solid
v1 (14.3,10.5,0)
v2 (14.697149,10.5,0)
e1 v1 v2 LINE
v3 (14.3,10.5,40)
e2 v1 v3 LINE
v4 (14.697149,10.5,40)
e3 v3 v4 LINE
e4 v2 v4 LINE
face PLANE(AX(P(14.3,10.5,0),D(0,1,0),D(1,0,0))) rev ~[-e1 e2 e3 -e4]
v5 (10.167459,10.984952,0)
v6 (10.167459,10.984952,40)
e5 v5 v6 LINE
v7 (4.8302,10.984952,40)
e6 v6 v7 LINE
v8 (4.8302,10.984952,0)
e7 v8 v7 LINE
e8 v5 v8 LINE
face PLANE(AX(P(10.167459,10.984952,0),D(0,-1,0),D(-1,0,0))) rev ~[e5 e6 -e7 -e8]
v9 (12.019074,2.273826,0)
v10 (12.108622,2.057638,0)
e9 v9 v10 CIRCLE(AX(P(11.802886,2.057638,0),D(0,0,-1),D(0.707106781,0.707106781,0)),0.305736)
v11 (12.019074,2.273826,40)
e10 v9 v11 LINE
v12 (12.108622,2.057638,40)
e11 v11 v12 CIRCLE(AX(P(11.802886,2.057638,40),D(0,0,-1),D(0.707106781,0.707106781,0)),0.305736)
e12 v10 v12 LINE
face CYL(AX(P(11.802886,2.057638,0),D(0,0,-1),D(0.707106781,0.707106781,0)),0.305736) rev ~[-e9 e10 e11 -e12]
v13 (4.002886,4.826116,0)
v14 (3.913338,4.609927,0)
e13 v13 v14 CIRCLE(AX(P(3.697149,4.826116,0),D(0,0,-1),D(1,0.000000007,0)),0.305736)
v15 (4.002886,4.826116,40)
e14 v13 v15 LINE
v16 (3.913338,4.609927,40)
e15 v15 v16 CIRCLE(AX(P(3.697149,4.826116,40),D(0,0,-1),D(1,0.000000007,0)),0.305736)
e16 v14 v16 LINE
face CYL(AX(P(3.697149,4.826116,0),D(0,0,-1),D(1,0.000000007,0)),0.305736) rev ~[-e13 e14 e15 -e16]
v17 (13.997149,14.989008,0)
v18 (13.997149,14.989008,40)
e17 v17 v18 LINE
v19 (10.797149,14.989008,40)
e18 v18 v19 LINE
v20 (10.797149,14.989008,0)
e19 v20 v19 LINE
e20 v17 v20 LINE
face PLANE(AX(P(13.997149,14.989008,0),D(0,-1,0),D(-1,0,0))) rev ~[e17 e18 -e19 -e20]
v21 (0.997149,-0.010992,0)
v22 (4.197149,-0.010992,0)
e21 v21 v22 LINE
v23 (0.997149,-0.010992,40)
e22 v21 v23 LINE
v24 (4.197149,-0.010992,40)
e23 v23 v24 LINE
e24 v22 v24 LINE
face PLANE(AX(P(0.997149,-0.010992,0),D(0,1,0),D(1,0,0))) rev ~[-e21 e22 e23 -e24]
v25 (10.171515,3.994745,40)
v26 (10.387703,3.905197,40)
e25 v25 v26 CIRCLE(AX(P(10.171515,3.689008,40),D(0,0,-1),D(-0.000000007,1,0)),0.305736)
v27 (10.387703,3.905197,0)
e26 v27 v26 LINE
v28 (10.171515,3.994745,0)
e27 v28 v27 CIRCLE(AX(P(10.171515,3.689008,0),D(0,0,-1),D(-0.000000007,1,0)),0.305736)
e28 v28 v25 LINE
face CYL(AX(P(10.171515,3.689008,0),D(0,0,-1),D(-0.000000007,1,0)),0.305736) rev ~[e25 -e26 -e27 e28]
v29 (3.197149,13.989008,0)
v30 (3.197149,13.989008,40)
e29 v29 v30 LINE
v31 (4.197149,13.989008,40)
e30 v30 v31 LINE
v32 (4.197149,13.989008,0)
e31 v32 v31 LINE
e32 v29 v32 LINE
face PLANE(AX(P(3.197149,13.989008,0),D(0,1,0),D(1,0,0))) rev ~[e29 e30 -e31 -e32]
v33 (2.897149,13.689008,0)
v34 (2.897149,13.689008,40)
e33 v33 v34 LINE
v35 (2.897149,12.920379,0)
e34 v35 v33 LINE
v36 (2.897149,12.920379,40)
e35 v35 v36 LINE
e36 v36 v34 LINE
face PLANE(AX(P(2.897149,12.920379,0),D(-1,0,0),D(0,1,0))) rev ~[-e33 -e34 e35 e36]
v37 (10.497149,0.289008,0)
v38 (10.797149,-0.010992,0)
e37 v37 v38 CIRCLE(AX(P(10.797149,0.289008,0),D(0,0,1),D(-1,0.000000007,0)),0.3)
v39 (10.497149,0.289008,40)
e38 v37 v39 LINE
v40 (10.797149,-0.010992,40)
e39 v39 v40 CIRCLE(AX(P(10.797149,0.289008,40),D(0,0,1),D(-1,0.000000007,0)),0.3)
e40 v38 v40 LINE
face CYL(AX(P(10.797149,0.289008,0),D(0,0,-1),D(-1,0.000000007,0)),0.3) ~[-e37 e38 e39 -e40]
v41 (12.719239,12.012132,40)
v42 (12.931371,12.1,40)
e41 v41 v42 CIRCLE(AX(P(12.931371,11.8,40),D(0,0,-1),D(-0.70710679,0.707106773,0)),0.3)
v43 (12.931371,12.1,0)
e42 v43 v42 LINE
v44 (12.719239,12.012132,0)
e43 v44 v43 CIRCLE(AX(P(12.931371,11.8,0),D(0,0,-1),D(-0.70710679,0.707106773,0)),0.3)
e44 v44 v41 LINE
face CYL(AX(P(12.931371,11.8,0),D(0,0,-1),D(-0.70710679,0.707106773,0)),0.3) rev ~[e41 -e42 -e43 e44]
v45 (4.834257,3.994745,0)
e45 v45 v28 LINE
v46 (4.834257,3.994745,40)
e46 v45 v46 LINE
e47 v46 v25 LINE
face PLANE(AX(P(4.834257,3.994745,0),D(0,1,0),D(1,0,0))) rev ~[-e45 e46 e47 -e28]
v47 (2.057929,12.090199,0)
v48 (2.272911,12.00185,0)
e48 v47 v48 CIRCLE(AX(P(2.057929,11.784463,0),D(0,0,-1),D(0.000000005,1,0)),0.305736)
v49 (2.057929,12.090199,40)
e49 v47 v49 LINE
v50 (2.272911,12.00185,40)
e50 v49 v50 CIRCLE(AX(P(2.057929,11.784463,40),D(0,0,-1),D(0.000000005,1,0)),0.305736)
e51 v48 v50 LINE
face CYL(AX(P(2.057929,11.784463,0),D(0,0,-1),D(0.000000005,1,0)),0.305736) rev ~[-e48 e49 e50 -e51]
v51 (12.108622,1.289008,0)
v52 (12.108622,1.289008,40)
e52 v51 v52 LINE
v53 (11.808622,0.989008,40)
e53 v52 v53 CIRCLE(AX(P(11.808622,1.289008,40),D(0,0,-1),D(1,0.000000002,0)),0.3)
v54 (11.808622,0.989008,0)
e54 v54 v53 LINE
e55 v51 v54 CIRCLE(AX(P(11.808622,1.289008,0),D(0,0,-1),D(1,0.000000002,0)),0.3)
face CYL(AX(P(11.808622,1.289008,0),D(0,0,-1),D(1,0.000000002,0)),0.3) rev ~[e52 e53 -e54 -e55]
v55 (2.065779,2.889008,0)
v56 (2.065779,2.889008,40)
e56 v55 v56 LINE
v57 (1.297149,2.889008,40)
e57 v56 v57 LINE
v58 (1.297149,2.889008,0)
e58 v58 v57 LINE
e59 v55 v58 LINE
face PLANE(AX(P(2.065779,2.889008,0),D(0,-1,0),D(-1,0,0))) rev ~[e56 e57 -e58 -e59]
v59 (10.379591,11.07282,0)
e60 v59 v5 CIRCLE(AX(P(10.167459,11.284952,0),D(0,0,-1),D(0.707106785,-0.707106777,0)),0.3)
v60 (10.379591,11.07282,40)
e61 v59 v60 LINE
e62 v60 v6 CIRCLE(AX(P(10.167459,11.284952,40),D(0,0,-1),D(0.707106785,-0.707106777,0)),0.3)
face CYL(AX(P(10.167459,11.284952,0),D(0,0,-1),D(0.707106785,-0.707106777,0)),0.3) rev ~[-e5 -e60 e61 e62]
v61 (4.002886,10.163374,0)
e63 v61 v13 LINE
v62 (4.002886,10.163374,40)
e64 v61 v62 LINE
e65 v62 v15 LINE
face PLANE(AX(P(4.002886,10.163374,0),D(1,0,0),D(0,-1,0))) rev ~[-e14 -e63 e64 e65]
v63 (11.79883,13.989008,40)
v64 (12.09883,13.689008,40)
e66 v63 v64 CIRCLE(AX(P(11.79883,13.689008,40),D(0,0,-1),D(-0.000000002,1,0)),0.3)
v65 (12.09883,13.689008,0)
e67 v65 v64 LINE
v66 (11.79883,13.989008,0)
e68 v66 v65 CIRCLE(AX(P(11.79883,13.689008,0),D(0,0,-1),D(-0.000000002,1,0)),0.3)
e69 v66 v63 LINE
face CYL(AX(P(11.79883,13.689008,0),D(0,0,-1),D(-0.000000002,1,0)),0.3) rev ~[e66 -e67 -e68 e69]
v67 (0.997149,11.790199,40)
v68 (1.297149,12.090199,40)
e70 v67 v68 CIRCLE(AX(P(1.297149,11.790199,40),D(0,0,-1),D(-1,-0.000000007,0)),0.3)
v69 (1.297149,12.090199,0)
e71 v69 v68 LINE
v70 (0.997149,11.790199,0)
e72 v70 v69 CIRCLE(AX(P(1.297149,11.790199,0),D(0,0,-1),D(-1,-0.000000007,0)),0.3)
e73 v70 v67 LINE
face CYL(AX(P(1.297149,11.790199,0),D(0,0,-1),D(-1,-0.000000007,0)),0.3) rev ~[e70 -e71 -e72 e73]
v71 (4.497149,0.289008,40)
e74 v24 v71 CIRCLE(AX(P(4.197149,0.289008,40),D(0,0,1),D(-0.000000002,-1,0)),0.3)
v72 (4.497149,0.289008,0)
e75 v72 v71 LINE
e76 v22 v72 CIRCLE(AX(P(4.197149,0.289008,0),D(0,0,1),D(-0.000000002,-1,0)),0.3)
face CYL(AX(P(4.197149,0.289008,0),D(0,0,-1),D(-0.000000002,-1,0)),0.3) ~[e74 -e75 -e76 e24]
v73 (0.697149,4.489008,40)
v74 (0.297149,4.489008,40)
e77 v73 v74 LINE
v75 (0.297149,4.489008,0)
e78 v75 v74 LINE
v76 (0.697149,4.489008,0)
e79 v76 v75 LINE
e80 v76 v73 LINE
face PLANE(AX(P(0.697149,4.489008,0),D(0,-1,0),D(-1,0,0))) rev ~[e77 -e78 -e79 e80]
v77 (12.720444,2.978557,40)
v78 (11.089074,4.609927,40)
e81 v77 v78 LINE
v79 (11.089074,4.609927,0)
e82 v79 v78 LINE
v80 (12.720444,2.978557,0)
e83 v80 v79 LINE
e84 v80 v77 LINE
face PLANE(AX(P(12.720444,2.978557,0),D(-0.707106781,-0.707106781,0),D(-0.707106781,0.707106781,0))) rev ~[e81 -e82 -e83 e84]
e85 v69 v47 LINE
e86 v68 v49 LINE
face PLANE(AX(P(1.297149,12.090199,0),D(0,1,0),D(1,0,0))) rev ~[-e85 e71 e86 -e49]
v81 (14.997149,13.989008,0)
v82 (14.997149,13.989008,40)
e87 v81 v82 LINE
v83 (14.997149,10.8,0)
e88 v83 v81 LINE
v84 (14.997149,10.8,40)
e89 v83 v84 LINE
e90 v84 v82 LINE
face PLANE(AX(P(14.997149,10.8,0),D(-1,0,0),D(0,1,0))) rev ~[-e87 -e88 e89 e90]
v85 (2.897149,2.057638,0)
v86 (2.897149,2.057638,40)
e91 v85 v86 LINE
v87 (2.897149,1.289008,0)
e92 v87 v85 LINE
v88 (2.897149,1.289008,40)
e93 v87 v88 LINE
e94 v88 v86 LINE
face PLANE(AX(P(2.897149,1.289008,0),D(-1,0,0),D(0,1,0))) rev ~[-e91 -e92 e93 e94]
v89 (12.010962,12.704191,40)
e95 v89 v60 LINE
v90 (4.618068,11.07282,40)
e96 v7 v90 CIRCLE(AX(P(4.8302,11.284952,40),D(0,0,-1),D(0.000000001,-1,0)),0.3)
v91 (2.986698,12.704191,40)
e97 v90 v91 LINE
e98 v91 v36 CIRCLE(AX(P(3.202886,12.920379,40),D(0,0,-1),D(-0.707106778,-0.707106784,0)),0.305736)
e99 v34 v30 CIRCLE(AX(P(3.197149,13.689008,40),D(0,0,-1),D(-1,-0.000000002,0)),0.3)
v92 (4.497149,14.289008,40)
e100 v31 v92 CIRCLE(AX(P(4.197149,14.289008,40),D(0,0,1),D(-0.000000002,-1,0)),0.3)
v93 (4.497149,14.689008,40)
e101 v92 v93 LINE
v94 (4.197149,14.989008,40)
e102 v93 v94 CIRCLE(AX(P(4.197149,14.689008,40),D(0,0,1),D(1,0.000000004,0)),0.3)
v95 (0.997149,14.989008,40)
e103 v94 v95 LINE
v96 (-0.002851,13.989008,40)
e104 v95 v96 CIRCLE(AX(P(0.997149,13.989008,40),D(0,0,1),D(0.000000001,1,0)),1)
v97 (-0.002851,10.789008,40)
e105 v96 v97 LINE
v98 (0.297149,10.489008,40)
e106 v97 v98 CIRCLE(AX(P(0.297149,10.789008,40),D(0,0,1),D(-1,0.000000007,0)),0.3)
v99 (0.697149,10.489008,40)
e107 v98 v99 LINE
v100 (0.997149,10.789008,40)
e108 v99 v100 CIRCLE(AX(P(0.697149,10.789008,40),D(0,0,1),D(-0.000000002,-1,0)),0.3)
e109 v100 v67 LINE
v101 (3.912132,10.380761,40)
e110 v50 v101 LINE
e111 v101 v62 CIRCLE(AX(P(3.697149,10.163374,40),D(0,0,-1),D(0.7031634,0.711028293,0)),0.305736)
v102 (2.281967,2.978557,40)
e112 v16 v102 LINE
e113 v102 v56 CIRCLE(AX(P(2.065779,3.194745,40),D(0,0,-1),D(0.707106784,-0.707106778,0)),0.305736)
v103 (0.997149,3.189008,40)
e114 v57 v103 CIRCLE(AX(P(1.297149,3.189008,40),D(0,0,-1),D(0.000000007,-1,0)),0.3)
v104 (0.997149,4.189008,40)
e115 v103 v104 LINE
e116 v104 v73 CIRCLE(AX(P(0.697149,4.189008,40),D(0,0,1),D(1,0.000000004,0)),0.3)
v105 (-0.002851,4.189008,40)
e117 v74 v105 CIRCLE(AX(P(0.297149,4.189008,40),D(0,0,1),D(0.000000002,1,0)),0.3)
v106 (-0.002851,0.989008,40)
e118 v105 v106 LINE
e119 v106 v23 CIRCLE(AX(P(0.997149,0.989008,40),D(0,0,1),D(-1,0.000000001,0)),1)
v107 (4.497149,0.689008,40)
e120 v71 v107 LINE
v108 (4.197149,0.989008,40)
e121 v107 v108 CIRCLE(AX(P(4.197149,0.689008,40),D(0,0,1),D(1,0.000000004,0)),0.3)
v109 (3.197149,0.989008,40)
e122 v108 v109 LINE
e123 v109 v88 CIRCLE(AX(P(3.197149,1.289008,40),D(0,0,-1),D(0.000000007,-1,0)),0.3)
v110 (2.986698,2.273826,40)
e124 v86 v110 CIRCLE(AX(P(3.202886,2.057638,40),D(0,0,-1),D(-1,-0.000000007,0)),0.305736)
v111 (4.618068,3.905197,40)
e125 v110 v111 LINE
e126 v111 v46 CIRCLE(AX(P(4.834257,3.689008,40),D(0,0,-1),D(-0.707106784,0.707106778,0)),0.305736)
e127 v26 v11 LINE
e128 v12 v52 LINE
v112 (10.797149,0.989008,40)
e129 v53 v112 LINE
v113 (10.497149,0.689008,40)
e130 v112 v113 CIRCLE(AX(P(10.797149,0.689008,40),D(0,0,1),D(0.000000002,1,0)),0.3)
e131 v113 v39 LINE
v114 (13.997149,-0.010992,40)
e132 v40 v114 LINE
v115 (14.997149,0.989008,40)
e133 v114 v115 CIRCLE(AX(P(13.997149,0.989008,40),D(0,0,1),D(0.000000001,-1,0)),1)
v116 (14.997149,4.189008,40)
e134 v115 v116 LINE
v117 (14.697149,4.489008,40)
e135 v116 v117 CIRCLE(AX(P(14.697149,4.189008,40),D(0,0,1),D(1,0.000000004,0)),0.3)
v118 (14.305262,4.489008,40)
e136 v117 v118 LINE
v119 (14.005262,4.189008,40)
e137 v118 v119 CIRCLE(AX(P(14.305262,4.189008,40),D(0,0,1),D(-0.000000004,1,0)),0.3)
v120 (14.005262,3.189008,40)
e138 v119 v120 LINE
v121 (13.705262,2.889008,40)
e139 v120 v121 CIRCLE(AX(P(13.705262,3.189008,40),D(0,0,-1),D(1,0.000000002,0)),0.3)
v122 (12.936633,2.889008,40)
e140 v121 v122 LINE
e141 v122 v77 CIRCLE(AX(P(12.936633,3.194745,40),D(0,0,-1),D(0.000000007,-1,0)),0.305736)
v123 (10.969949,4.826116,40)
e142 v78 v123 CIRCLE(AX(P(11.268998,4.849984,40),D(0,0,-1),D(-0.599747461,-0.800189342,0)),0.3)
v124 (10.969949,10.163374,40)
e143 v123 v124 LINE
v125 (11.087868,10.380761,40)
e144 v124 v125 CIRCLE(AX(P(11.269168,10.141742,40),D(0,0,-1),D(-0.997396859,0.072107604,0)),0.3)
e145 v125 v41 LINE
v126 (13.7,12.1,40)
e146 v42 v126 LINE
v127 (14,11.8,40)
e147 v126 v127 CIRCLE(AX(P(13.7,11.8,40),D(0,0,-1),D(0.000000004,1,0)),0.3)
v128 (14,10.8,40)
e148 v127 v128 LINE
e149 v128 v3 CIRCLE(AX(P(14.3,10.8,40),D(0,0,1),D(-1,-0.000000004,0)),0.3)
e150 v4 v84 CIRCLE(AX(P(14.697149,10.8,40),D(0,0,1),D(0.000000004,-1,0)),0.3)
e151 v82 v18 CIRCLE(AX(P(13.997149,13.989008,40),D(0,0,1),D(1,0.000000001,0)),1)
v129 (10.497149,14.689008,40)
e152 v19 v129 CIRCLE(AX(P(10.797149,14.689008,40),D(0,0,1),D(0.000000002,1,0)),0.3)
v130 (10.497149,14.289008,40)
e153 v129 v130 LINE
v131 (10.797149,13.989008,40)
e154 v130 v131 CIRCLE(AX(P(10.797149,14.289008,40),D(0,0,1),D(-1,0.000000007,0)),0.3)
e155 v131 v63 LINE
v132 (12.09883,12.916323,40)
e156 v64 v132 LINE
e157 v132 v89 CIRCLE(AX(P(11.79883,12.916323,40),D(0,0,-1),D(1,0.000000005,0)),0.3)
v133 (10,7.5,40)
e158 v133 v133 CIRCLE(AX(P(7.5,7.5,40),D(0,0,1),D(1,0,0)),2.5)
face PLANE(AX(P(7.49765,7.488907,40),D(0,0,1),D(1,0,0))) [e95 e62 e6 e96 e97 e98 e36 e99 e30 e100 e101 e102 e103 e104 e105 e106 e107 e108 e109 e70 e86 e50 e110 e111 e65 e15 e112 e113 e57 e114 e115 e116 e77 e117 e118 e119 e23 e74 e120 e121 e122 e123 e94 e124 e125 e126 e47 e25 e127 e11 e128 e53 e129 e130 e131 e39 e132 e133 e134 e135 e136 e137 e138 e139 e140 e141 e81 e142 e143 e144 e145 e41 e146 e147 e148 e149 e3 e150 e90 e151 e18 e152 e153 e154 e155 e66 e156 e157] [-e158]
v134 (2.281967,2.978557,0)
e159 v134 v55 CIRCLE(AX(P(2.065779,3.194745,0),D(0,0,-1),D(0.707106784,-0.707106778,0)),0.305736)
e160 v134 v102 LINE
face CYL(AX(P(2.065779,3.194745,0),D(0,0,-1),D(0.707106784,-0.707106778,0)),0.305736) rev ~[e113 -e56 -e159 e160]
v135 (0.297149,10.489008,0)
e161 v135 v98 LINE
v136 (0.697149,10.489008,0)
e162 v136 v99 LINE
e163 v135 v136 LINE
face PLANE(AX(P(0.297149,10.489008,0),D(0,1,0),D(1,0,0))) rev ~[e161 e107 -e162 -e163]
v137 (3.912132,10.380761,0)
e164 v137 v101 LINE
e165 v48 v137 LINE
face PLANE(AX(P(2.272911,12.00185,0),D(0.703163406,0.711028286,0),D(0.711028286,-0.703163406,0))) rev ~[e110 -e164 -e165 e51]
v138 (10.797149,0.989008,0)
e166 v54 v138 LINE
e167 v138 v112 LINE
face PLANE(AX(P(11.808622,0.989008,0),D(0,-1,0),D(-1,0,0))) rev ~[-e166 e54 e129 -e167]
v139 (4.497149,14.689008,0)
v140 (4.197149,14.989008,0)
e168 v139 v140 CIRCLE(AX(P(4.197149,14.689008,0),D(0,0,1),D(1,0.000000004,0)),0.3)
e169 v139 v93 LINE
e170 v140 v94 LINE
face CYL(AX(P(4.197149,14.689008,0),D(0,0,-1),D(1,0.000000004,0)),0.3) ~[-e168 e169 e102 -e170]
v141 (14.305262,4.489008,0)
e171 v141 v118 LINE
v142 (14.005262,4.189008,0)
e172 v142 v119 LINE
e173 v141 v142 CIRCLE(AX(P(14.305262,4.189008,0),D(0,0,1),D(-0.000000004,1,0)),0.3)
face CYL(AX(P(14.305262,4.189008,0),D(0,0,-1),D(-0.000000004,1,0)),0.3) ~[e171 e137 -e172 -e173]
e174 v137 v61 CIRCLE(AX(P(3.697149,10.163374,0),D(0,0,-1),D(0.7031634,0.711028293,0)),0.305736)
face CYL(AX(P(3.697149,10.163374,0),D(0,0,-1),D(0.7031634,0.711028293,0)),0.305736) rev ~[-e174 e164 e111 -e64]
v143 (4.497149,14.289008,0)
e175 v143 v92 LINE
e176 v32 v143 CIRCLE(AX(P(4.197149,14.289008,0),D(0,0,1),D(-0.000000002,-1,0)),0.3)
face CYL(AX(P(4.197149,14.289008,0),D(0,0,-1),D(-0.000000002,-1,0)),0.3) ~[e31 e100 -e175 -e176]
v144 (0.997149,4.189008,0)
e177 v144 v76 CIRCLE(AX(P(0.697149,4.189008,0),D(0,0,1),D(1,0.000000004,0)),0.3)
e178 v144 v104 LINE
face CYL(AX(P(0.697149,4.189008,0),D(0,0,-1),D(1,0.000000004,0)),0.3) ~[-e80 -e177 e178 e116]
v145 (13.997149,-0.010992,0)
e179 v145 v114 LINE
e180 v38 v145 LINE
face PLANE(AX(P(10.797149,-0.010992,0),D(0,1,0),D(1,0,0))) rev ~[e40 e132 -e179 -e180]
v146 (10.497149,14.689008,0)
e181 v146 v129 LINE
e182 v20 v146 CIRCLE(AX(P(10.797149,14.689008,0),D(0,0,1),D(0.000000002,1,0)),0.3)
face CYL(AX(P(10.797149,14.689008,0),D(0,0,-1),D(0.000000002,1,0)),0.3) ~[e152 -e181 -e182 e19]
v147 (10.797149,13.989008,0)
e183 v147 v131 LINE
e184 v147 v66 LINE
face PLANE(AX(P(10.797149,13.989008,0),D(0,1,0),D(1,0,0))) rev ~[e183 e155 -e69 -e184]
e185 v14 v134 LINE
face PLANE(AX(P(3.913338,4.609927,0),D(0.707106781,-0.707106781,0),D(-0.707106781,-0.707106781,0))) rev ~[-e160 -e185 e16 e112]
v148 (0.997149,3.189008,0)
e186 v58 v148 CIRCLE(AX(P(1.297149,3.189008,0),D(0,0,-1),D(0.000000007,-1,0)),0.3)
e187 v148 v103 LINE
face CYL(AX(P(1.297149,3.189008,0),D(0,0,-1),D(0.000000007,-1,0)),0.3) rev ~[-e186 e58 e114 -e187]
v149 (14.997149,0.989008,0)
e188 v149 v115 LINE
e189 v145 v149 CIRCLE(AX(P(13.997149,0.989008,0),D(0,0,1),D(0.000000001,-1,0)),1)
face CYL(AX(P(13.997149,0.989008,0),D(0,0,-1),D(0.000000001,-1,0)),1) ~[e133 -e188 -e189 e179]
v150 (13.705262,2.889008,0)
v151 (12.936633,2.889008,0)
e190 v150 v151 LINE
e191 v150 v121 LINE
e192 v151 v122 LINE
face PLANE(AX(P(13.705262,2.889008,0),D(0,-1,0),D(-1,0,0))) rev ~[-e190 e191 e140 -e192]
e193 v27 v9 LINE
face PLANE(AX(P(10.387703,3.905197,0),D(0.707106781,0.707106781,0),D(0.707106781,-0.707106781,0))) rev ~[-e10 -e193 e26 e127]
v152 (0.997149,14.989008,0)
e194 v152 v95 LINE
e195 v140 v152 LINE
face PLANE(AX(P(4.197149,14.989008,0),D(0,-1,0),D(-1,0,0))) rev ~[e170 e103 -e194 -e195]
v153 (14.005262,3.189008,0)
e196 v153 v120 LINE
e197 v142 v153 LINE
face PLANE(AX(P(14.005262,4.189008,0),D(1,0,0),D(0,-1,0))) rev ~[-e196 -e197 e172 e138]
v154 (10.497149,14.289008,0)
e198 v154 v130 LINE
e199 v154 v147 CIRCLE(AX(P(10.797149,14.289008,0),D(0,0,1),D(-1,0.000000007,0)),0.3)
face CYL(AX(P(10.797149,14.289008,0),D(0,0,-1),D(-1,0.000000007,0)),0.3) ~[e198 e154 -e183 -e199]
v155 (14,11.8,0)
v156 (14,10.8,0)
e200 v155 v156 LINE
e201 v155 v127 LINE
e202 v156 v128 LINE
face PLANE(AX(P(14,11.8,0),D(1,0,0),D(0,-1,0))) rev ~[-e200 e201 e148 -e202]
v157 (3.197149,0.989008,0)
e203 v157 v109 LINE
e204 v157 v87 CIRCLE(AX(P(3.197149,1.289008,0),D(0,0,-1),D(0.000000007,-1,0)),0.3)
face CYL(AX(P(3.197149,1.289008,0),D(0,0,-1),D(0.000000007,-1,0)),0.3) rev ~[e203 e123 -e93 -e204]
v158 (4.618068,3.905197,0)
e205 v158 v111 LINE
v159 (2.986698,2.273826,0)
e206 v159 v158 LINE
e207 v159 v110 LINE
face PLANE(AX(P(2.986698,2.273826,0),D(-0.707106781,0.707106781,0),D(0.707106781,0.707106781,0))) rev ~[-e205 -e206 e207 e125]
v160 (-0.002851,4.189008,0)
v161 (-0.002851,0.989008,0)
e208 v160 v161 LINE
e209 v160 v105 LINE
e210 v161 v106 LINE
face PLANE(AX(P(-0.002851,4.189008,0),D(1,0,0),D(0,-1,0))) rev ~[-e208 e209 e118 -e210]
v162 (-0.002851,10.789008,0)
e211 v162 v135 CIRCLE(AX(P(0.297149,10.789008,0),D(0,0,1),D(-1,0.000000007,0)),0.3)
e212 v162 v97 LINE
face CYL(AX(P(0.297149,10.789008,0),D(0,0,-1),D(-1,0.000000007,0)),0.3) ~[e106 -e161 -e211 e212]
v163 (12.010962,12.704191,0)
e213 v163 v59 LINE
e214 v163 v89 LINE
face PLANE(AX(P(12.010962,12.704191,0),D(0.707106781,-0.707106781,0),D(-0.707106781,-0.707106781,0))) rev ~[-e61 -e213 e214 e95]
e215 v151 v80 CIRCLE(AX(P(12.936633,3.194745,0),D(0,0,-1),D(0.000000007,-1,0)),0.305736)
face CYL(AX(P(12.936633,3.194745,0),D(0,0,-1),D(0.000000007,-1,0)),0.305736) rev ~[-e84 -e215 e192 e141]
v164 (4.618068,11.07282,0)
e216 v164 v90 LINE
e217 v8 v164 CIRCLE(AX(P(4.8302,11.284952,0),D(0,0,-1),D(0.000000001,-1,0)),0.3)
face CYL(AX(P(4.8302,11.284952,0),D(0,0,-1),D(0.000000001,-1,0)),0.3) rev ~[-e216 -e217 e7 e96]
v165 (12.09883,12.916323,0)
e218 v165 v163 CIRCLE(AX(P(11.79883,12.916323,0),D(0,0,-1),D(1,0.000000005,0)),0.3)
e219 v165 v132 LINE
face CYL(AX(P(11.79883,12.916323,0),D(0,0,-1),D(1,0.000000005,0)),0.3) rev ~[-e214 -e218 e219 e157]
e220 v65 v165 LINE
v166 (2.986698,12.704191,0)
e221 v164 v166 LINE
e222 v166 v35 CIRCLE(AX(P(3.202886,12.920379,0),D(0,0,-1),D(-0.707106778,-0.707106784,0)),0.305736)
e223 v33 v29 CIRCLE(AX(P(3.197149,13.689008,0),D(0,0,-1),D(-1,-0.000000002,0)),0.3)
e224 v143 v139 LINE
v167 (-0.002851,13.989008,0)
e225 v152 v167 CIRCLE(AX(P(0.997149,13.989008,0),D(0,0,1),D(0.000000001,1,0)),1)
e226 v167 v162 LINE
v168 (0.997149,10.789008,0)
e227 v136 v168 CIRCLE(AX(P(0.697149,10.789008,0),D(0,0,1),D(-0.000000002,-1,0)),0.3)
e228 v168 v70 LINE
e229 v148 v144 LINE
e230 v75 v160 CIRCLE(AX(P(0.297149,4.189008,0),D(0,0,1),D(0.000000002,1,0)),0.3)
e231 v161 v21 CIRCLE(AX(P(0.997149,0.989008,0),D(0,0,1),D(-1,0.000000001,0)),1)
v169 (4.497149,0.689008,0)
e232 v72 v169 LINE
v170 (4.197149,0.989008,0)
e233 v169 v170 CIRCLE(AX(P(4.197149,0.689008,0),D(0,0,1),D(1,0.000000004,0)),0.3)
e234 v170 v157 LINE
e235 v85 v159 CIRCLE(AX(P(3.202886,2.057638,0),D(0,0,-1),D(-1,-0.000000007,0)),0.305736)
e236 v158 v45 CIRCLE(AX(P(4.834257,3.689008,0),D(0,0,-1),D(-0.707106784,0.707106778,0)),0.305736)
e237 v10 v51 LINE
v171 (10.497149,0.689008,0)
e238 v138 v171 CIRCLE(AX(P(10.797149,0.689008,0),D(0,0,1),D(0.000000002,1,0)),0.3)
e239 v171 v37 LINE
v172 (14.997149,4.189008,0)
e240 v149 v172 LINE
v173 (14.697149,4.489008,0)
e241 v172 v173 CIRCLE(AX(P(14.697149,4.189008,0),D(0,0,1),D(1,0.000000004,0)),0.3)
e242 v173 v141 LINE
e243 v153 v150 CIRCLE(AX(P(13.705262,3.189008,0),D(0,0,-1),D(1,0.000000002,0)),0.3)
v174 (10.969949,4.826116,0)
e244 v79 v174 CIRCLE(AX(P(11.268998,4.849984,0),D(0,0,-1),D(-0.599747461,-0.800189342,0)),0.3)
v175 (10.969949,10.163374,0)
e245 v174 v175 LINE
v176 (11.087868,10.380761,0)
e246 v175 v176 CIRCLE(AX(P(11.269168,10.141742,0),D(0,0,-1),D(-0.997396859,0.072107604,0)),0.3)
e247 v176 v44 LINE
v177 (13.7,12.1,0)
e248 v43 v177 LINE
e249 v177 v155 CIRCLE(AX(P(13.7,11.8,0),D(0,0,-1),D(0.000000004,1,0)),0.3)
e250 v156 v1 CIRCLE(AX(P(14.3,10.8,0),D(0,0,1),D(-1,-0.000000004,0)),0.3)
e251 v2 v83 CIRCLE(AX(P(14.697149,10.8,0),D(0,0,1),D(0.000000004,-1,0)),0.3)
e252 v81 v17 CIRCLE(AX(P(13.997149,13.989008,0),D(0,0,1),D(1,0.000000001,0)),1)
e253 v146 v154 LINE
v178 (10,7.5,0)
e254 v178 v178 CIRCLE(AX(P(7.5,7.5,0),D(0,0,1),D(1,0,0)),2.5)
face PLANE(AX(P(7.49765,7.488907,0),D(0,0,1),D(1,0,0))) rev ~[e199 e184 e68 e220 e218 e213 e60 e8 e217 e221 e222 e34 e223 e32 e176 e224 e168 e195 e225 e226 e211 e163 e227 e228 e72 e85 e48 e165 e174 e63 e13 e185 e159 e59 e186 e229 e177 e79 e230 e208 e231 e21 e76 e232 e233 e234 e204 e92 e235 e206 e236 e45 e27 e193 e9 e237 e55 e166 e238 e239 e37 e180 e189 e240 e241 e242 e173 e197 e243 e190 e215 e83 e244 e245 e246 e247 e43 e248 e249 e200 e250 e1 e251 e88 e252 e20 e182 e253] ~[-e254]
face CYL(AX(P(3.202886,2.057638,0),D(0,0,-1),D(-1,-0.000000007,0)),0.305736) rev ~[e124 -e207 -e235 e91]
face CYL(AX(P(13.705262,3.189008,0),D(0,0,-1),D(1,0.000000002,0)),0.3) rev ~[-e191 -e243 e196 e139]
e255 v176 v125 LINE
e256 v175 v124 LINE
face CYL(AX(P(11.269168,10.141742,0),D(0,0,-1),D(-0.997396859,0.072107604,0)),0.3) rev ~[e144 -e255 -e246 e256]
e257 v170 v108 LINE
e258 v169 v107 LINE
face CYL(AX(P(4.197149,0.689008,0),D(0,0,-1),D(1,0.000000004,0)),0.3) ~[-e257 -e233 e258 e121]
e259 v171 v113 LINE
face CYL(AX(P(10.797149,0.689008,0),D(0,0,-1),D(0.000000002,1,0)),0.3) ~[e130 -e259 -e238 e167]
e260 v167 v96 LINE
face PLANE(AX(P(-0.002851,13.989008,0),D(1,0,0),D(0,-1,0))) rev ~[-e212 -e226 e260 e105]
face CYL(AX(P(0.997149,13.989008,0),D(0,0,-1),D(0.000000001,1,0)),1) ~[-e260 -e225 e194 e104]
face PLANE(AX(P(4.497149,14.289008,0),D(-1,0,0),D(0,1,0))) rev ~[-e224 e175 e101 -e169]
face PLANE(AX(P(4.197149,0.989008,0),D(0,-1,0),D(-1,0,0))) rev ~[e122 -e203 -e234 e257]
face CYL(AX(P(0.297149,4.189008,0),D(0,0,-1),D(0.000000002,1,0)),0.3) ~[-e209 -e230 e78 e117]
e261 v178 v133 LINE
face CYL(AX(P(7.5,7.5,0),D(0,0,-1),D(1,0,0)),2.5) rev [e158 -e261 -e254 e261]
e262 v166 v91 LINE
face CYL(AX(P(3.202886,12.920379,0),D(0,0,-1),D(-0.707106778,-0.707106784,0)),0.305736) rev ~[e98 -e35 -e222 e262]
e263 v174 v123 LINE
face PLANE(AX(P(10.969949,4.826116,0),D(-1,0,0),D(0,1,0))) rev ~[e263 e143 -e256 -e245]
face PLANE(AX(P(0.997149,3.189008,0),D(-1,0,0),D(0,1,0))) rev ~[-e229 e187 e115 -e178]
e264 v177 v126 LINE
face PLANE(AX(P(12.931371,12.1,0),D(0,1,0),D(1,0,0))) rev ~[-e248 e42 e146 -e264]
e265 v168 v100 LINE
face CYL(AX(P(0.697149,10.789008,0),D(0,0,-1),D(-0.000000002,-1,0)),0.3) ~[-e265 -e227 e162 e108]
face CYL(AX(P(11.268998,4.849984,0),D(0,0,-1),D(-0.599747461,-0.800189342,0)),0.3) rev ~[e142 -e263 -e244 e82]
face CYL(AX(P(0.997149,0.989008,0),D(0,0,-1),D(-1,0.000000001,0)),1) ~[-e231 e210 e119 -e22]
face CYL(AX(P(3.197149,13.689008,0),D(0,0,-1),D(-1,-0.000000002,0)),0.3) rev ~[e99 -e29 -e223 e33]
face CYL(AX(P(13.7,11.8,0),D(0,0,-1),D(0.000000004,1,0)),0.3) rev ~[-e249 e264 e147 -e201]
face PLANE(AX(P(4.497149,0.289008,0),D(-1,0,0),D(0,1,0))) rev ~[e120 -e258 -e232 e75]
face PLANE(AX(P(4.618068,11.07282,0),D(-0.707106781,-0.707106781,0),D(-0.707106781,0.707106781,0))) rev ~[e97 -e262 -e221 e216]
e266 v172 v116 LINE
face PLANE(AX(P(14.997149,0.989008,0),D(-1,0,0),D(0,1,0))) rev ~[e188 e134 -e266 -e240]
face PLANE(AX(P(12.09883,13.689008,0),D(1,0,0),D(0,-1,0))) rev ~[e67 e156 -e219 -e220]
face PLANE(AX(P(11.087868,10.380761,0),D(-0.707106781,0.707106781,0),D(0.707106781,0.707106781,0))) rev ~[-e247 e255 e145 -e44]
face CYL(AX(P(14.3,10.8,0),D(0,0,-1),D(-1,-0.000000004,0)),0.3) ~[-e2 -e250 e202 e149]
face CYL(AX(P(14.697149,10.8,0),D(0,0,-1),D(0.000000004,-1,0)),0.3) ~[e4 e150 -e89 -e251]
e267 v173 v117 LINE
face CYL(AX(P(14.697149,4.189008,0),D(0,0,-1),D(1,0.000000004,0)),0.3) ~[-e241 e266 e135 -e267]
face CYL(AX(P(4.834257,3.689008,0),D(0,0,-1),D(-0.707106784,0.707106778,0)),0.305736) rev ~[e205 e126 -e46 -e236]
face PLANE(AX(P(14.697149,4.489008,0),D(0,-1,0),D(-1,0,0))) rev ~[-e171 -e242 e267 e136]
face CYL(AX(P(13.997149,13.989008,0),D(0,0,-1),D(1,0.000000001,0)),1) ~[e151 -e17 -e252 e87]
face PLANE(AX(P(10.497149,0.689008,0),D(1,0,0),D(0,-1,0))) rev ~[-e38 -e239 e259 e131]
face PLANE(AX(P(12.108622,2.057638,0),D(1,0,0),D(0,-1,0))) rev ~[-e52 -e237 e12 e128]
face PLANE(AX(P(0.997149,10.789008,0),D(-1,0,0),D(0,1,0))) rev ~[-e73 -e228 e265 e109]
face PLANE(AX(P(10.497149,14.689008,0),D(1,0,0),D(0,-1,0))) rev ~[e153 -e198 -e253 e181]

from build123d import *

# Parameters (mm, degrees)
SKETCH1_R           = 2.5
BOSS_EXTRUDE1_DEPTH = 40


with BuildPart() as part:
    # Sketch1 → Boss-Extrude1 (new body)
    with BuildSketch(Plane.XY):
        with BuildLine():
            Line((0.997149379, -0.010991612), (4.197149379, -0.010991612))
            ThreePointArc((4.197149379, -0.010991612), (4.409281413, 0.076876353), (4.497149379, 0.289008388))
            Line((4.497149379, 0.289008388), (4.497149379, 0.689008388))
            ThreePointArc((4.497149379, 0.689008388), (4.409281413, 0.901140422), (4.197149379, 0.989008388))
            Line((4.197149379, 0.989008388), (3.197149379, 0.989008388))
            ThreePointArc((3.197149379, 0.989008388), (2.985017344, 1.076876353), (2.897149379, 1.289008388))
            Line((2.897149379, 1.289008388), (2.897149379, 2.057637538))
            ThreePointArc((2.897149379, 2.057637538), (2.920422177, 2.174637797), (2.9866975, 2.273825827))
            Line((2.9866975, 2.273825827), (4.61806835, 3.905196677))
            ThreePointArc((4.61806835, 3.905196677), (4.71725638, 3.971472), (4.834256639, 3.994744798))
            Line((4.834256639, 3.994744798), (10.171514939, 3.994744798))
            ThreePointArc((10.171514939, 3.994744798), (10.288515198, 3.971472), (10.387703228, 3.905196677))
            Line((10.387703228, 3.905196677), (12.019074078, 2.273825827))
            ThreePointArc((12.019074078, 2.273825827), (12.085349401, 2.174637797), (12.1086222, 2.057637538))
            Line((12.1086222, 2.057637538), (12.1086222, 1.289008388))
            ThreePointArc((12.1086222, 1.289008388), (12.020754234, 1.076876353), (11.8086222, 0.989008388))
            Line((11.8086222, 0.989008388), (10.797149379, 0.989008388))
            ThreePointArc((10.797149379, 0.989008388), (10.585017344, 0.901140422), (10.497149379, 0.689008388))
            Line((10.497149379, 0.689008388), (10.497149379, 0.289008388))
            ThreePointArc((10.497149379, 0.289008388), (10.585017344, 0.076876353), (10.797149379, -0.010991612))
            Line((10.797149379, -0.010991612), (13.997149379, -0.010991612))
            ThreePointArc((13.997149379, -0.010991612), (14.70425616, 0.281901607), (14.997149379, 0.989008388))
            Line((14.997149379, 0.989008388), (14.997149379, 4.189008388))
            ThreePointArc((14.997149379, 4.189008388), (14.909281413, 4.401140422), (14.697149379, 4.489008388))
            Line((14.697149379, 4.489008388), (14.305261888, 4.489008388))
            ThreePointArc((14.305261888, 4.489008388), (14.093129854, 4.401140422), (14.005261888, 4.189008388))
            Line((14.005261888, 4.189008388), (14.005261888, 3.189008388))
            ThreePointArc((14.005261888, 3.189008388), (13.917393922, 2.976876353), (13.705261888, 2.889008388))
            Line((13.705261888, 2.889008388), (12.936632738, 2.889008388))
            ThreePointArc((12.936632738, 2.889008388), (12.819632479, 2.912281186), (12.720444449, 2.978556509))
            Line((12.720444449, 2.978556509), (11.089073599, 4.609927359))
            ThreePointArc((11.089073599, 4.609927359), (11.006246661, 4.70520219), (10.969948855, 4.826115648))
            Line((10.969948855, 4.826115648), (10.969948855, 10.163373948))
            ThreePointArc((10.969948855, 10.163373948), (11.00546556, 10.284783861), (11.087867966, 10.380761184))
            Line((11.087867966, 10.380761184), (12.719238816, 12.012132034))
            ThreePointArc((12.719238816, 12.012132034), (12.81656582, 12.07716386), (12.93137085, 12.1))
            Line((12.93137085, 12.1), (13.7, 12.1))
            ThreePointArc((13.7, 12.1), (13.912132034, 12.012132034), (14, 11.8))
            Line((14, 11.8), (14, 10.8))
            ThreePointArc((14, 10.8), (14.087867966, 10.587867966), (14.3, 10.5))
            Line((14.3, 10.5), (14.697149379, 10.5))
            ThreePointArc((14.697149379, 10.5), (14.909281413, 10.587867966), (14.997149379, 10.8))
            Line((14.997149379, 10.8), (14.997149379, 13.989008388))
            ThreePointArc((14.997149379, 13.989008388), (14.70425616, 14.696115169), (13.997149379, 14.989008388))
            Line((13.997149379, 14.989008388), (10.797149379, 14.989008388))
            ThreePointArc((10.797149379, 14.989008388), (10.585017344, 14.901140422), (10.497149379, 14.689008388))
            Line((10.497149379, 14.689008388), (10.497149379, 14.289008388))
            ThreePointArc((10.497149379, 14.289008388), (10.585017344, 14.076876353), (10.797149379, 13.989008388))
            Line((10.797149379, 13.989008388), (11.798829534, 13.989008388))
            ThreePointArc((11.798829534, 13.989008388), (12.010961569, 13.901140422), (12.098829534, 13.689008388))
            Line((12.098829534, 13.689008388), (12.098829534, 12.916322983))
            ThreePointArc((12.098829534, 12.916322983), (12.075993394, 12.801517953), (12.010961569, 12.704190949))
            Line((12.010961569, 12.704190949), (10.379590719, 11.072820099))
            ThreePointArc((10.379590719, 11.072820099), (10.282263714, 11.007788273), (10.167458684, 10.984952133))
            Line((10.167458684, 10.984952133), (4.830200384, 10.984952133))
            ThreePointArc((4.830200384, 10.984952133), (4.715395355, 11.007788273), (4.61806835, 11.072820099))
            Line((4.61806835, 11.072820099), (2.9866975, 12.704190949))
            ThreePointArc((2.9866975, 12.704190949), (2.920422177, 12.803378979), (2.897149379, 12.920379238))
            Line((2.897149379, 12.920379238), (2.897149379, 13.689008388))
            ThreePointArc((2.897149379, 13.689008388), (2.985017344, 13.901140422), (3.197149379, 13.989008388))
            Line((3.197149379, 13.989008388), (4.197149379, 13.989008388))
            ThreePointArc((4.197149379, 13.989008388), (4.409281413, 14.076876353), (4.497149379, 14.289008388))
            Line((4.497149379, 14.289008388), (4.497149379, 14.689008388))
            ThreePointArc((4.497149379, 14.689008388), (4.409281413, 14.901140422), (4.197149379, 14.989008388))
            Line((4.197149379, 14.989008388), (0.997149379, 14.989008388))
            ThreePointArc((0.997149379, 14.989008388), (0.290042597, 14.696115169), (-0.002850621, 13.989008388))
            Line((-0.002850621, 13.989008388), (-0.002850621, 10.789008388))
            ThreePointArc((-0.002850621, 10.789008388), (0.085017344, 10.576876353), (0.297149379, 10.489008388))
            Line((0.297149379, 10.489008388), (0.697149379, 10.489008388))
            ThreePointArc((0.697149379, 10.489008388), (0.909281413, 10.576876353), (0.997149379, 10.789008388))
            Line((0.997149379, 10.789008388), (0.997149379, 11.790199043))
            ThreePointArc((0.997149379, 11.790199043), (1.085017344, 12.002331078), (1.297149379, 12.090199043))
            Line((1.297149379, 12.090199043), (2.057928823, 12.090199043))
            ThreePointArc((2.057928823, 12.090199043), (2.174143192, 12.067250491), (2.272911478, 12.001849869))
            Line((2.272911478, 12.001849869), (3.912132034, 10.380761184))
            ThreePointArc((3.912132034, 10.380761184), (3.97928656, 10.281159192), (4.002885789, 10.163373948))
            Line((4.002885789, 10.163373948), (4.002885789, 4.826115648))
            ThreePointArc((4.002885789, 4.826115648), (3.979612991, 4.709115389), (3.913337668, 4.609927359))
            Line((3.913337668, 4.609927359), (2.281966818, 2.978556509))
            ThreePointArc((2.281966818, 2.978556509), (2.182778788, 2.912281186), (2.065778529, 2.889008388))
            Line((2.065778529, 2.889008388), (1.297149379, 2.889008388))
            ThreePointArc((1.297149379, 2.889008388), (1.085017344, 2.976876353), (0.997149379, 3.189008388))
            Line((0.997149379, 3.189008388), (0.997149379, 4.189008388))
            ThreePointArc((0.997149379, 4.189008388), (0.909281413, 4.401140422), (0.697149379, 4.489008388))
            Line((0.697149379, 4.489008388), (0.297149379, 4.489008388))
            ThreePointArc((0.297149379, 4.489008388), (0.085017344, 4.401140422), (-0.002850621, 4.189008388))
            Line((-0.002850621, 4.189008388), (-0.002850621, 0.989008388))
            ThreePointArc((-0.002850621, 0.989008388), (0.290042597, 0.281901607), (0.997149379, -0.010991612))
        make_face()
        with Locations((7.5, 7.5)):
            Circle(SKETCH1_R, mode=Mode.SUBTRACT)
    extrude(amount=BOSS_EXTRUDE1_DEPTH)


solid = part.part
